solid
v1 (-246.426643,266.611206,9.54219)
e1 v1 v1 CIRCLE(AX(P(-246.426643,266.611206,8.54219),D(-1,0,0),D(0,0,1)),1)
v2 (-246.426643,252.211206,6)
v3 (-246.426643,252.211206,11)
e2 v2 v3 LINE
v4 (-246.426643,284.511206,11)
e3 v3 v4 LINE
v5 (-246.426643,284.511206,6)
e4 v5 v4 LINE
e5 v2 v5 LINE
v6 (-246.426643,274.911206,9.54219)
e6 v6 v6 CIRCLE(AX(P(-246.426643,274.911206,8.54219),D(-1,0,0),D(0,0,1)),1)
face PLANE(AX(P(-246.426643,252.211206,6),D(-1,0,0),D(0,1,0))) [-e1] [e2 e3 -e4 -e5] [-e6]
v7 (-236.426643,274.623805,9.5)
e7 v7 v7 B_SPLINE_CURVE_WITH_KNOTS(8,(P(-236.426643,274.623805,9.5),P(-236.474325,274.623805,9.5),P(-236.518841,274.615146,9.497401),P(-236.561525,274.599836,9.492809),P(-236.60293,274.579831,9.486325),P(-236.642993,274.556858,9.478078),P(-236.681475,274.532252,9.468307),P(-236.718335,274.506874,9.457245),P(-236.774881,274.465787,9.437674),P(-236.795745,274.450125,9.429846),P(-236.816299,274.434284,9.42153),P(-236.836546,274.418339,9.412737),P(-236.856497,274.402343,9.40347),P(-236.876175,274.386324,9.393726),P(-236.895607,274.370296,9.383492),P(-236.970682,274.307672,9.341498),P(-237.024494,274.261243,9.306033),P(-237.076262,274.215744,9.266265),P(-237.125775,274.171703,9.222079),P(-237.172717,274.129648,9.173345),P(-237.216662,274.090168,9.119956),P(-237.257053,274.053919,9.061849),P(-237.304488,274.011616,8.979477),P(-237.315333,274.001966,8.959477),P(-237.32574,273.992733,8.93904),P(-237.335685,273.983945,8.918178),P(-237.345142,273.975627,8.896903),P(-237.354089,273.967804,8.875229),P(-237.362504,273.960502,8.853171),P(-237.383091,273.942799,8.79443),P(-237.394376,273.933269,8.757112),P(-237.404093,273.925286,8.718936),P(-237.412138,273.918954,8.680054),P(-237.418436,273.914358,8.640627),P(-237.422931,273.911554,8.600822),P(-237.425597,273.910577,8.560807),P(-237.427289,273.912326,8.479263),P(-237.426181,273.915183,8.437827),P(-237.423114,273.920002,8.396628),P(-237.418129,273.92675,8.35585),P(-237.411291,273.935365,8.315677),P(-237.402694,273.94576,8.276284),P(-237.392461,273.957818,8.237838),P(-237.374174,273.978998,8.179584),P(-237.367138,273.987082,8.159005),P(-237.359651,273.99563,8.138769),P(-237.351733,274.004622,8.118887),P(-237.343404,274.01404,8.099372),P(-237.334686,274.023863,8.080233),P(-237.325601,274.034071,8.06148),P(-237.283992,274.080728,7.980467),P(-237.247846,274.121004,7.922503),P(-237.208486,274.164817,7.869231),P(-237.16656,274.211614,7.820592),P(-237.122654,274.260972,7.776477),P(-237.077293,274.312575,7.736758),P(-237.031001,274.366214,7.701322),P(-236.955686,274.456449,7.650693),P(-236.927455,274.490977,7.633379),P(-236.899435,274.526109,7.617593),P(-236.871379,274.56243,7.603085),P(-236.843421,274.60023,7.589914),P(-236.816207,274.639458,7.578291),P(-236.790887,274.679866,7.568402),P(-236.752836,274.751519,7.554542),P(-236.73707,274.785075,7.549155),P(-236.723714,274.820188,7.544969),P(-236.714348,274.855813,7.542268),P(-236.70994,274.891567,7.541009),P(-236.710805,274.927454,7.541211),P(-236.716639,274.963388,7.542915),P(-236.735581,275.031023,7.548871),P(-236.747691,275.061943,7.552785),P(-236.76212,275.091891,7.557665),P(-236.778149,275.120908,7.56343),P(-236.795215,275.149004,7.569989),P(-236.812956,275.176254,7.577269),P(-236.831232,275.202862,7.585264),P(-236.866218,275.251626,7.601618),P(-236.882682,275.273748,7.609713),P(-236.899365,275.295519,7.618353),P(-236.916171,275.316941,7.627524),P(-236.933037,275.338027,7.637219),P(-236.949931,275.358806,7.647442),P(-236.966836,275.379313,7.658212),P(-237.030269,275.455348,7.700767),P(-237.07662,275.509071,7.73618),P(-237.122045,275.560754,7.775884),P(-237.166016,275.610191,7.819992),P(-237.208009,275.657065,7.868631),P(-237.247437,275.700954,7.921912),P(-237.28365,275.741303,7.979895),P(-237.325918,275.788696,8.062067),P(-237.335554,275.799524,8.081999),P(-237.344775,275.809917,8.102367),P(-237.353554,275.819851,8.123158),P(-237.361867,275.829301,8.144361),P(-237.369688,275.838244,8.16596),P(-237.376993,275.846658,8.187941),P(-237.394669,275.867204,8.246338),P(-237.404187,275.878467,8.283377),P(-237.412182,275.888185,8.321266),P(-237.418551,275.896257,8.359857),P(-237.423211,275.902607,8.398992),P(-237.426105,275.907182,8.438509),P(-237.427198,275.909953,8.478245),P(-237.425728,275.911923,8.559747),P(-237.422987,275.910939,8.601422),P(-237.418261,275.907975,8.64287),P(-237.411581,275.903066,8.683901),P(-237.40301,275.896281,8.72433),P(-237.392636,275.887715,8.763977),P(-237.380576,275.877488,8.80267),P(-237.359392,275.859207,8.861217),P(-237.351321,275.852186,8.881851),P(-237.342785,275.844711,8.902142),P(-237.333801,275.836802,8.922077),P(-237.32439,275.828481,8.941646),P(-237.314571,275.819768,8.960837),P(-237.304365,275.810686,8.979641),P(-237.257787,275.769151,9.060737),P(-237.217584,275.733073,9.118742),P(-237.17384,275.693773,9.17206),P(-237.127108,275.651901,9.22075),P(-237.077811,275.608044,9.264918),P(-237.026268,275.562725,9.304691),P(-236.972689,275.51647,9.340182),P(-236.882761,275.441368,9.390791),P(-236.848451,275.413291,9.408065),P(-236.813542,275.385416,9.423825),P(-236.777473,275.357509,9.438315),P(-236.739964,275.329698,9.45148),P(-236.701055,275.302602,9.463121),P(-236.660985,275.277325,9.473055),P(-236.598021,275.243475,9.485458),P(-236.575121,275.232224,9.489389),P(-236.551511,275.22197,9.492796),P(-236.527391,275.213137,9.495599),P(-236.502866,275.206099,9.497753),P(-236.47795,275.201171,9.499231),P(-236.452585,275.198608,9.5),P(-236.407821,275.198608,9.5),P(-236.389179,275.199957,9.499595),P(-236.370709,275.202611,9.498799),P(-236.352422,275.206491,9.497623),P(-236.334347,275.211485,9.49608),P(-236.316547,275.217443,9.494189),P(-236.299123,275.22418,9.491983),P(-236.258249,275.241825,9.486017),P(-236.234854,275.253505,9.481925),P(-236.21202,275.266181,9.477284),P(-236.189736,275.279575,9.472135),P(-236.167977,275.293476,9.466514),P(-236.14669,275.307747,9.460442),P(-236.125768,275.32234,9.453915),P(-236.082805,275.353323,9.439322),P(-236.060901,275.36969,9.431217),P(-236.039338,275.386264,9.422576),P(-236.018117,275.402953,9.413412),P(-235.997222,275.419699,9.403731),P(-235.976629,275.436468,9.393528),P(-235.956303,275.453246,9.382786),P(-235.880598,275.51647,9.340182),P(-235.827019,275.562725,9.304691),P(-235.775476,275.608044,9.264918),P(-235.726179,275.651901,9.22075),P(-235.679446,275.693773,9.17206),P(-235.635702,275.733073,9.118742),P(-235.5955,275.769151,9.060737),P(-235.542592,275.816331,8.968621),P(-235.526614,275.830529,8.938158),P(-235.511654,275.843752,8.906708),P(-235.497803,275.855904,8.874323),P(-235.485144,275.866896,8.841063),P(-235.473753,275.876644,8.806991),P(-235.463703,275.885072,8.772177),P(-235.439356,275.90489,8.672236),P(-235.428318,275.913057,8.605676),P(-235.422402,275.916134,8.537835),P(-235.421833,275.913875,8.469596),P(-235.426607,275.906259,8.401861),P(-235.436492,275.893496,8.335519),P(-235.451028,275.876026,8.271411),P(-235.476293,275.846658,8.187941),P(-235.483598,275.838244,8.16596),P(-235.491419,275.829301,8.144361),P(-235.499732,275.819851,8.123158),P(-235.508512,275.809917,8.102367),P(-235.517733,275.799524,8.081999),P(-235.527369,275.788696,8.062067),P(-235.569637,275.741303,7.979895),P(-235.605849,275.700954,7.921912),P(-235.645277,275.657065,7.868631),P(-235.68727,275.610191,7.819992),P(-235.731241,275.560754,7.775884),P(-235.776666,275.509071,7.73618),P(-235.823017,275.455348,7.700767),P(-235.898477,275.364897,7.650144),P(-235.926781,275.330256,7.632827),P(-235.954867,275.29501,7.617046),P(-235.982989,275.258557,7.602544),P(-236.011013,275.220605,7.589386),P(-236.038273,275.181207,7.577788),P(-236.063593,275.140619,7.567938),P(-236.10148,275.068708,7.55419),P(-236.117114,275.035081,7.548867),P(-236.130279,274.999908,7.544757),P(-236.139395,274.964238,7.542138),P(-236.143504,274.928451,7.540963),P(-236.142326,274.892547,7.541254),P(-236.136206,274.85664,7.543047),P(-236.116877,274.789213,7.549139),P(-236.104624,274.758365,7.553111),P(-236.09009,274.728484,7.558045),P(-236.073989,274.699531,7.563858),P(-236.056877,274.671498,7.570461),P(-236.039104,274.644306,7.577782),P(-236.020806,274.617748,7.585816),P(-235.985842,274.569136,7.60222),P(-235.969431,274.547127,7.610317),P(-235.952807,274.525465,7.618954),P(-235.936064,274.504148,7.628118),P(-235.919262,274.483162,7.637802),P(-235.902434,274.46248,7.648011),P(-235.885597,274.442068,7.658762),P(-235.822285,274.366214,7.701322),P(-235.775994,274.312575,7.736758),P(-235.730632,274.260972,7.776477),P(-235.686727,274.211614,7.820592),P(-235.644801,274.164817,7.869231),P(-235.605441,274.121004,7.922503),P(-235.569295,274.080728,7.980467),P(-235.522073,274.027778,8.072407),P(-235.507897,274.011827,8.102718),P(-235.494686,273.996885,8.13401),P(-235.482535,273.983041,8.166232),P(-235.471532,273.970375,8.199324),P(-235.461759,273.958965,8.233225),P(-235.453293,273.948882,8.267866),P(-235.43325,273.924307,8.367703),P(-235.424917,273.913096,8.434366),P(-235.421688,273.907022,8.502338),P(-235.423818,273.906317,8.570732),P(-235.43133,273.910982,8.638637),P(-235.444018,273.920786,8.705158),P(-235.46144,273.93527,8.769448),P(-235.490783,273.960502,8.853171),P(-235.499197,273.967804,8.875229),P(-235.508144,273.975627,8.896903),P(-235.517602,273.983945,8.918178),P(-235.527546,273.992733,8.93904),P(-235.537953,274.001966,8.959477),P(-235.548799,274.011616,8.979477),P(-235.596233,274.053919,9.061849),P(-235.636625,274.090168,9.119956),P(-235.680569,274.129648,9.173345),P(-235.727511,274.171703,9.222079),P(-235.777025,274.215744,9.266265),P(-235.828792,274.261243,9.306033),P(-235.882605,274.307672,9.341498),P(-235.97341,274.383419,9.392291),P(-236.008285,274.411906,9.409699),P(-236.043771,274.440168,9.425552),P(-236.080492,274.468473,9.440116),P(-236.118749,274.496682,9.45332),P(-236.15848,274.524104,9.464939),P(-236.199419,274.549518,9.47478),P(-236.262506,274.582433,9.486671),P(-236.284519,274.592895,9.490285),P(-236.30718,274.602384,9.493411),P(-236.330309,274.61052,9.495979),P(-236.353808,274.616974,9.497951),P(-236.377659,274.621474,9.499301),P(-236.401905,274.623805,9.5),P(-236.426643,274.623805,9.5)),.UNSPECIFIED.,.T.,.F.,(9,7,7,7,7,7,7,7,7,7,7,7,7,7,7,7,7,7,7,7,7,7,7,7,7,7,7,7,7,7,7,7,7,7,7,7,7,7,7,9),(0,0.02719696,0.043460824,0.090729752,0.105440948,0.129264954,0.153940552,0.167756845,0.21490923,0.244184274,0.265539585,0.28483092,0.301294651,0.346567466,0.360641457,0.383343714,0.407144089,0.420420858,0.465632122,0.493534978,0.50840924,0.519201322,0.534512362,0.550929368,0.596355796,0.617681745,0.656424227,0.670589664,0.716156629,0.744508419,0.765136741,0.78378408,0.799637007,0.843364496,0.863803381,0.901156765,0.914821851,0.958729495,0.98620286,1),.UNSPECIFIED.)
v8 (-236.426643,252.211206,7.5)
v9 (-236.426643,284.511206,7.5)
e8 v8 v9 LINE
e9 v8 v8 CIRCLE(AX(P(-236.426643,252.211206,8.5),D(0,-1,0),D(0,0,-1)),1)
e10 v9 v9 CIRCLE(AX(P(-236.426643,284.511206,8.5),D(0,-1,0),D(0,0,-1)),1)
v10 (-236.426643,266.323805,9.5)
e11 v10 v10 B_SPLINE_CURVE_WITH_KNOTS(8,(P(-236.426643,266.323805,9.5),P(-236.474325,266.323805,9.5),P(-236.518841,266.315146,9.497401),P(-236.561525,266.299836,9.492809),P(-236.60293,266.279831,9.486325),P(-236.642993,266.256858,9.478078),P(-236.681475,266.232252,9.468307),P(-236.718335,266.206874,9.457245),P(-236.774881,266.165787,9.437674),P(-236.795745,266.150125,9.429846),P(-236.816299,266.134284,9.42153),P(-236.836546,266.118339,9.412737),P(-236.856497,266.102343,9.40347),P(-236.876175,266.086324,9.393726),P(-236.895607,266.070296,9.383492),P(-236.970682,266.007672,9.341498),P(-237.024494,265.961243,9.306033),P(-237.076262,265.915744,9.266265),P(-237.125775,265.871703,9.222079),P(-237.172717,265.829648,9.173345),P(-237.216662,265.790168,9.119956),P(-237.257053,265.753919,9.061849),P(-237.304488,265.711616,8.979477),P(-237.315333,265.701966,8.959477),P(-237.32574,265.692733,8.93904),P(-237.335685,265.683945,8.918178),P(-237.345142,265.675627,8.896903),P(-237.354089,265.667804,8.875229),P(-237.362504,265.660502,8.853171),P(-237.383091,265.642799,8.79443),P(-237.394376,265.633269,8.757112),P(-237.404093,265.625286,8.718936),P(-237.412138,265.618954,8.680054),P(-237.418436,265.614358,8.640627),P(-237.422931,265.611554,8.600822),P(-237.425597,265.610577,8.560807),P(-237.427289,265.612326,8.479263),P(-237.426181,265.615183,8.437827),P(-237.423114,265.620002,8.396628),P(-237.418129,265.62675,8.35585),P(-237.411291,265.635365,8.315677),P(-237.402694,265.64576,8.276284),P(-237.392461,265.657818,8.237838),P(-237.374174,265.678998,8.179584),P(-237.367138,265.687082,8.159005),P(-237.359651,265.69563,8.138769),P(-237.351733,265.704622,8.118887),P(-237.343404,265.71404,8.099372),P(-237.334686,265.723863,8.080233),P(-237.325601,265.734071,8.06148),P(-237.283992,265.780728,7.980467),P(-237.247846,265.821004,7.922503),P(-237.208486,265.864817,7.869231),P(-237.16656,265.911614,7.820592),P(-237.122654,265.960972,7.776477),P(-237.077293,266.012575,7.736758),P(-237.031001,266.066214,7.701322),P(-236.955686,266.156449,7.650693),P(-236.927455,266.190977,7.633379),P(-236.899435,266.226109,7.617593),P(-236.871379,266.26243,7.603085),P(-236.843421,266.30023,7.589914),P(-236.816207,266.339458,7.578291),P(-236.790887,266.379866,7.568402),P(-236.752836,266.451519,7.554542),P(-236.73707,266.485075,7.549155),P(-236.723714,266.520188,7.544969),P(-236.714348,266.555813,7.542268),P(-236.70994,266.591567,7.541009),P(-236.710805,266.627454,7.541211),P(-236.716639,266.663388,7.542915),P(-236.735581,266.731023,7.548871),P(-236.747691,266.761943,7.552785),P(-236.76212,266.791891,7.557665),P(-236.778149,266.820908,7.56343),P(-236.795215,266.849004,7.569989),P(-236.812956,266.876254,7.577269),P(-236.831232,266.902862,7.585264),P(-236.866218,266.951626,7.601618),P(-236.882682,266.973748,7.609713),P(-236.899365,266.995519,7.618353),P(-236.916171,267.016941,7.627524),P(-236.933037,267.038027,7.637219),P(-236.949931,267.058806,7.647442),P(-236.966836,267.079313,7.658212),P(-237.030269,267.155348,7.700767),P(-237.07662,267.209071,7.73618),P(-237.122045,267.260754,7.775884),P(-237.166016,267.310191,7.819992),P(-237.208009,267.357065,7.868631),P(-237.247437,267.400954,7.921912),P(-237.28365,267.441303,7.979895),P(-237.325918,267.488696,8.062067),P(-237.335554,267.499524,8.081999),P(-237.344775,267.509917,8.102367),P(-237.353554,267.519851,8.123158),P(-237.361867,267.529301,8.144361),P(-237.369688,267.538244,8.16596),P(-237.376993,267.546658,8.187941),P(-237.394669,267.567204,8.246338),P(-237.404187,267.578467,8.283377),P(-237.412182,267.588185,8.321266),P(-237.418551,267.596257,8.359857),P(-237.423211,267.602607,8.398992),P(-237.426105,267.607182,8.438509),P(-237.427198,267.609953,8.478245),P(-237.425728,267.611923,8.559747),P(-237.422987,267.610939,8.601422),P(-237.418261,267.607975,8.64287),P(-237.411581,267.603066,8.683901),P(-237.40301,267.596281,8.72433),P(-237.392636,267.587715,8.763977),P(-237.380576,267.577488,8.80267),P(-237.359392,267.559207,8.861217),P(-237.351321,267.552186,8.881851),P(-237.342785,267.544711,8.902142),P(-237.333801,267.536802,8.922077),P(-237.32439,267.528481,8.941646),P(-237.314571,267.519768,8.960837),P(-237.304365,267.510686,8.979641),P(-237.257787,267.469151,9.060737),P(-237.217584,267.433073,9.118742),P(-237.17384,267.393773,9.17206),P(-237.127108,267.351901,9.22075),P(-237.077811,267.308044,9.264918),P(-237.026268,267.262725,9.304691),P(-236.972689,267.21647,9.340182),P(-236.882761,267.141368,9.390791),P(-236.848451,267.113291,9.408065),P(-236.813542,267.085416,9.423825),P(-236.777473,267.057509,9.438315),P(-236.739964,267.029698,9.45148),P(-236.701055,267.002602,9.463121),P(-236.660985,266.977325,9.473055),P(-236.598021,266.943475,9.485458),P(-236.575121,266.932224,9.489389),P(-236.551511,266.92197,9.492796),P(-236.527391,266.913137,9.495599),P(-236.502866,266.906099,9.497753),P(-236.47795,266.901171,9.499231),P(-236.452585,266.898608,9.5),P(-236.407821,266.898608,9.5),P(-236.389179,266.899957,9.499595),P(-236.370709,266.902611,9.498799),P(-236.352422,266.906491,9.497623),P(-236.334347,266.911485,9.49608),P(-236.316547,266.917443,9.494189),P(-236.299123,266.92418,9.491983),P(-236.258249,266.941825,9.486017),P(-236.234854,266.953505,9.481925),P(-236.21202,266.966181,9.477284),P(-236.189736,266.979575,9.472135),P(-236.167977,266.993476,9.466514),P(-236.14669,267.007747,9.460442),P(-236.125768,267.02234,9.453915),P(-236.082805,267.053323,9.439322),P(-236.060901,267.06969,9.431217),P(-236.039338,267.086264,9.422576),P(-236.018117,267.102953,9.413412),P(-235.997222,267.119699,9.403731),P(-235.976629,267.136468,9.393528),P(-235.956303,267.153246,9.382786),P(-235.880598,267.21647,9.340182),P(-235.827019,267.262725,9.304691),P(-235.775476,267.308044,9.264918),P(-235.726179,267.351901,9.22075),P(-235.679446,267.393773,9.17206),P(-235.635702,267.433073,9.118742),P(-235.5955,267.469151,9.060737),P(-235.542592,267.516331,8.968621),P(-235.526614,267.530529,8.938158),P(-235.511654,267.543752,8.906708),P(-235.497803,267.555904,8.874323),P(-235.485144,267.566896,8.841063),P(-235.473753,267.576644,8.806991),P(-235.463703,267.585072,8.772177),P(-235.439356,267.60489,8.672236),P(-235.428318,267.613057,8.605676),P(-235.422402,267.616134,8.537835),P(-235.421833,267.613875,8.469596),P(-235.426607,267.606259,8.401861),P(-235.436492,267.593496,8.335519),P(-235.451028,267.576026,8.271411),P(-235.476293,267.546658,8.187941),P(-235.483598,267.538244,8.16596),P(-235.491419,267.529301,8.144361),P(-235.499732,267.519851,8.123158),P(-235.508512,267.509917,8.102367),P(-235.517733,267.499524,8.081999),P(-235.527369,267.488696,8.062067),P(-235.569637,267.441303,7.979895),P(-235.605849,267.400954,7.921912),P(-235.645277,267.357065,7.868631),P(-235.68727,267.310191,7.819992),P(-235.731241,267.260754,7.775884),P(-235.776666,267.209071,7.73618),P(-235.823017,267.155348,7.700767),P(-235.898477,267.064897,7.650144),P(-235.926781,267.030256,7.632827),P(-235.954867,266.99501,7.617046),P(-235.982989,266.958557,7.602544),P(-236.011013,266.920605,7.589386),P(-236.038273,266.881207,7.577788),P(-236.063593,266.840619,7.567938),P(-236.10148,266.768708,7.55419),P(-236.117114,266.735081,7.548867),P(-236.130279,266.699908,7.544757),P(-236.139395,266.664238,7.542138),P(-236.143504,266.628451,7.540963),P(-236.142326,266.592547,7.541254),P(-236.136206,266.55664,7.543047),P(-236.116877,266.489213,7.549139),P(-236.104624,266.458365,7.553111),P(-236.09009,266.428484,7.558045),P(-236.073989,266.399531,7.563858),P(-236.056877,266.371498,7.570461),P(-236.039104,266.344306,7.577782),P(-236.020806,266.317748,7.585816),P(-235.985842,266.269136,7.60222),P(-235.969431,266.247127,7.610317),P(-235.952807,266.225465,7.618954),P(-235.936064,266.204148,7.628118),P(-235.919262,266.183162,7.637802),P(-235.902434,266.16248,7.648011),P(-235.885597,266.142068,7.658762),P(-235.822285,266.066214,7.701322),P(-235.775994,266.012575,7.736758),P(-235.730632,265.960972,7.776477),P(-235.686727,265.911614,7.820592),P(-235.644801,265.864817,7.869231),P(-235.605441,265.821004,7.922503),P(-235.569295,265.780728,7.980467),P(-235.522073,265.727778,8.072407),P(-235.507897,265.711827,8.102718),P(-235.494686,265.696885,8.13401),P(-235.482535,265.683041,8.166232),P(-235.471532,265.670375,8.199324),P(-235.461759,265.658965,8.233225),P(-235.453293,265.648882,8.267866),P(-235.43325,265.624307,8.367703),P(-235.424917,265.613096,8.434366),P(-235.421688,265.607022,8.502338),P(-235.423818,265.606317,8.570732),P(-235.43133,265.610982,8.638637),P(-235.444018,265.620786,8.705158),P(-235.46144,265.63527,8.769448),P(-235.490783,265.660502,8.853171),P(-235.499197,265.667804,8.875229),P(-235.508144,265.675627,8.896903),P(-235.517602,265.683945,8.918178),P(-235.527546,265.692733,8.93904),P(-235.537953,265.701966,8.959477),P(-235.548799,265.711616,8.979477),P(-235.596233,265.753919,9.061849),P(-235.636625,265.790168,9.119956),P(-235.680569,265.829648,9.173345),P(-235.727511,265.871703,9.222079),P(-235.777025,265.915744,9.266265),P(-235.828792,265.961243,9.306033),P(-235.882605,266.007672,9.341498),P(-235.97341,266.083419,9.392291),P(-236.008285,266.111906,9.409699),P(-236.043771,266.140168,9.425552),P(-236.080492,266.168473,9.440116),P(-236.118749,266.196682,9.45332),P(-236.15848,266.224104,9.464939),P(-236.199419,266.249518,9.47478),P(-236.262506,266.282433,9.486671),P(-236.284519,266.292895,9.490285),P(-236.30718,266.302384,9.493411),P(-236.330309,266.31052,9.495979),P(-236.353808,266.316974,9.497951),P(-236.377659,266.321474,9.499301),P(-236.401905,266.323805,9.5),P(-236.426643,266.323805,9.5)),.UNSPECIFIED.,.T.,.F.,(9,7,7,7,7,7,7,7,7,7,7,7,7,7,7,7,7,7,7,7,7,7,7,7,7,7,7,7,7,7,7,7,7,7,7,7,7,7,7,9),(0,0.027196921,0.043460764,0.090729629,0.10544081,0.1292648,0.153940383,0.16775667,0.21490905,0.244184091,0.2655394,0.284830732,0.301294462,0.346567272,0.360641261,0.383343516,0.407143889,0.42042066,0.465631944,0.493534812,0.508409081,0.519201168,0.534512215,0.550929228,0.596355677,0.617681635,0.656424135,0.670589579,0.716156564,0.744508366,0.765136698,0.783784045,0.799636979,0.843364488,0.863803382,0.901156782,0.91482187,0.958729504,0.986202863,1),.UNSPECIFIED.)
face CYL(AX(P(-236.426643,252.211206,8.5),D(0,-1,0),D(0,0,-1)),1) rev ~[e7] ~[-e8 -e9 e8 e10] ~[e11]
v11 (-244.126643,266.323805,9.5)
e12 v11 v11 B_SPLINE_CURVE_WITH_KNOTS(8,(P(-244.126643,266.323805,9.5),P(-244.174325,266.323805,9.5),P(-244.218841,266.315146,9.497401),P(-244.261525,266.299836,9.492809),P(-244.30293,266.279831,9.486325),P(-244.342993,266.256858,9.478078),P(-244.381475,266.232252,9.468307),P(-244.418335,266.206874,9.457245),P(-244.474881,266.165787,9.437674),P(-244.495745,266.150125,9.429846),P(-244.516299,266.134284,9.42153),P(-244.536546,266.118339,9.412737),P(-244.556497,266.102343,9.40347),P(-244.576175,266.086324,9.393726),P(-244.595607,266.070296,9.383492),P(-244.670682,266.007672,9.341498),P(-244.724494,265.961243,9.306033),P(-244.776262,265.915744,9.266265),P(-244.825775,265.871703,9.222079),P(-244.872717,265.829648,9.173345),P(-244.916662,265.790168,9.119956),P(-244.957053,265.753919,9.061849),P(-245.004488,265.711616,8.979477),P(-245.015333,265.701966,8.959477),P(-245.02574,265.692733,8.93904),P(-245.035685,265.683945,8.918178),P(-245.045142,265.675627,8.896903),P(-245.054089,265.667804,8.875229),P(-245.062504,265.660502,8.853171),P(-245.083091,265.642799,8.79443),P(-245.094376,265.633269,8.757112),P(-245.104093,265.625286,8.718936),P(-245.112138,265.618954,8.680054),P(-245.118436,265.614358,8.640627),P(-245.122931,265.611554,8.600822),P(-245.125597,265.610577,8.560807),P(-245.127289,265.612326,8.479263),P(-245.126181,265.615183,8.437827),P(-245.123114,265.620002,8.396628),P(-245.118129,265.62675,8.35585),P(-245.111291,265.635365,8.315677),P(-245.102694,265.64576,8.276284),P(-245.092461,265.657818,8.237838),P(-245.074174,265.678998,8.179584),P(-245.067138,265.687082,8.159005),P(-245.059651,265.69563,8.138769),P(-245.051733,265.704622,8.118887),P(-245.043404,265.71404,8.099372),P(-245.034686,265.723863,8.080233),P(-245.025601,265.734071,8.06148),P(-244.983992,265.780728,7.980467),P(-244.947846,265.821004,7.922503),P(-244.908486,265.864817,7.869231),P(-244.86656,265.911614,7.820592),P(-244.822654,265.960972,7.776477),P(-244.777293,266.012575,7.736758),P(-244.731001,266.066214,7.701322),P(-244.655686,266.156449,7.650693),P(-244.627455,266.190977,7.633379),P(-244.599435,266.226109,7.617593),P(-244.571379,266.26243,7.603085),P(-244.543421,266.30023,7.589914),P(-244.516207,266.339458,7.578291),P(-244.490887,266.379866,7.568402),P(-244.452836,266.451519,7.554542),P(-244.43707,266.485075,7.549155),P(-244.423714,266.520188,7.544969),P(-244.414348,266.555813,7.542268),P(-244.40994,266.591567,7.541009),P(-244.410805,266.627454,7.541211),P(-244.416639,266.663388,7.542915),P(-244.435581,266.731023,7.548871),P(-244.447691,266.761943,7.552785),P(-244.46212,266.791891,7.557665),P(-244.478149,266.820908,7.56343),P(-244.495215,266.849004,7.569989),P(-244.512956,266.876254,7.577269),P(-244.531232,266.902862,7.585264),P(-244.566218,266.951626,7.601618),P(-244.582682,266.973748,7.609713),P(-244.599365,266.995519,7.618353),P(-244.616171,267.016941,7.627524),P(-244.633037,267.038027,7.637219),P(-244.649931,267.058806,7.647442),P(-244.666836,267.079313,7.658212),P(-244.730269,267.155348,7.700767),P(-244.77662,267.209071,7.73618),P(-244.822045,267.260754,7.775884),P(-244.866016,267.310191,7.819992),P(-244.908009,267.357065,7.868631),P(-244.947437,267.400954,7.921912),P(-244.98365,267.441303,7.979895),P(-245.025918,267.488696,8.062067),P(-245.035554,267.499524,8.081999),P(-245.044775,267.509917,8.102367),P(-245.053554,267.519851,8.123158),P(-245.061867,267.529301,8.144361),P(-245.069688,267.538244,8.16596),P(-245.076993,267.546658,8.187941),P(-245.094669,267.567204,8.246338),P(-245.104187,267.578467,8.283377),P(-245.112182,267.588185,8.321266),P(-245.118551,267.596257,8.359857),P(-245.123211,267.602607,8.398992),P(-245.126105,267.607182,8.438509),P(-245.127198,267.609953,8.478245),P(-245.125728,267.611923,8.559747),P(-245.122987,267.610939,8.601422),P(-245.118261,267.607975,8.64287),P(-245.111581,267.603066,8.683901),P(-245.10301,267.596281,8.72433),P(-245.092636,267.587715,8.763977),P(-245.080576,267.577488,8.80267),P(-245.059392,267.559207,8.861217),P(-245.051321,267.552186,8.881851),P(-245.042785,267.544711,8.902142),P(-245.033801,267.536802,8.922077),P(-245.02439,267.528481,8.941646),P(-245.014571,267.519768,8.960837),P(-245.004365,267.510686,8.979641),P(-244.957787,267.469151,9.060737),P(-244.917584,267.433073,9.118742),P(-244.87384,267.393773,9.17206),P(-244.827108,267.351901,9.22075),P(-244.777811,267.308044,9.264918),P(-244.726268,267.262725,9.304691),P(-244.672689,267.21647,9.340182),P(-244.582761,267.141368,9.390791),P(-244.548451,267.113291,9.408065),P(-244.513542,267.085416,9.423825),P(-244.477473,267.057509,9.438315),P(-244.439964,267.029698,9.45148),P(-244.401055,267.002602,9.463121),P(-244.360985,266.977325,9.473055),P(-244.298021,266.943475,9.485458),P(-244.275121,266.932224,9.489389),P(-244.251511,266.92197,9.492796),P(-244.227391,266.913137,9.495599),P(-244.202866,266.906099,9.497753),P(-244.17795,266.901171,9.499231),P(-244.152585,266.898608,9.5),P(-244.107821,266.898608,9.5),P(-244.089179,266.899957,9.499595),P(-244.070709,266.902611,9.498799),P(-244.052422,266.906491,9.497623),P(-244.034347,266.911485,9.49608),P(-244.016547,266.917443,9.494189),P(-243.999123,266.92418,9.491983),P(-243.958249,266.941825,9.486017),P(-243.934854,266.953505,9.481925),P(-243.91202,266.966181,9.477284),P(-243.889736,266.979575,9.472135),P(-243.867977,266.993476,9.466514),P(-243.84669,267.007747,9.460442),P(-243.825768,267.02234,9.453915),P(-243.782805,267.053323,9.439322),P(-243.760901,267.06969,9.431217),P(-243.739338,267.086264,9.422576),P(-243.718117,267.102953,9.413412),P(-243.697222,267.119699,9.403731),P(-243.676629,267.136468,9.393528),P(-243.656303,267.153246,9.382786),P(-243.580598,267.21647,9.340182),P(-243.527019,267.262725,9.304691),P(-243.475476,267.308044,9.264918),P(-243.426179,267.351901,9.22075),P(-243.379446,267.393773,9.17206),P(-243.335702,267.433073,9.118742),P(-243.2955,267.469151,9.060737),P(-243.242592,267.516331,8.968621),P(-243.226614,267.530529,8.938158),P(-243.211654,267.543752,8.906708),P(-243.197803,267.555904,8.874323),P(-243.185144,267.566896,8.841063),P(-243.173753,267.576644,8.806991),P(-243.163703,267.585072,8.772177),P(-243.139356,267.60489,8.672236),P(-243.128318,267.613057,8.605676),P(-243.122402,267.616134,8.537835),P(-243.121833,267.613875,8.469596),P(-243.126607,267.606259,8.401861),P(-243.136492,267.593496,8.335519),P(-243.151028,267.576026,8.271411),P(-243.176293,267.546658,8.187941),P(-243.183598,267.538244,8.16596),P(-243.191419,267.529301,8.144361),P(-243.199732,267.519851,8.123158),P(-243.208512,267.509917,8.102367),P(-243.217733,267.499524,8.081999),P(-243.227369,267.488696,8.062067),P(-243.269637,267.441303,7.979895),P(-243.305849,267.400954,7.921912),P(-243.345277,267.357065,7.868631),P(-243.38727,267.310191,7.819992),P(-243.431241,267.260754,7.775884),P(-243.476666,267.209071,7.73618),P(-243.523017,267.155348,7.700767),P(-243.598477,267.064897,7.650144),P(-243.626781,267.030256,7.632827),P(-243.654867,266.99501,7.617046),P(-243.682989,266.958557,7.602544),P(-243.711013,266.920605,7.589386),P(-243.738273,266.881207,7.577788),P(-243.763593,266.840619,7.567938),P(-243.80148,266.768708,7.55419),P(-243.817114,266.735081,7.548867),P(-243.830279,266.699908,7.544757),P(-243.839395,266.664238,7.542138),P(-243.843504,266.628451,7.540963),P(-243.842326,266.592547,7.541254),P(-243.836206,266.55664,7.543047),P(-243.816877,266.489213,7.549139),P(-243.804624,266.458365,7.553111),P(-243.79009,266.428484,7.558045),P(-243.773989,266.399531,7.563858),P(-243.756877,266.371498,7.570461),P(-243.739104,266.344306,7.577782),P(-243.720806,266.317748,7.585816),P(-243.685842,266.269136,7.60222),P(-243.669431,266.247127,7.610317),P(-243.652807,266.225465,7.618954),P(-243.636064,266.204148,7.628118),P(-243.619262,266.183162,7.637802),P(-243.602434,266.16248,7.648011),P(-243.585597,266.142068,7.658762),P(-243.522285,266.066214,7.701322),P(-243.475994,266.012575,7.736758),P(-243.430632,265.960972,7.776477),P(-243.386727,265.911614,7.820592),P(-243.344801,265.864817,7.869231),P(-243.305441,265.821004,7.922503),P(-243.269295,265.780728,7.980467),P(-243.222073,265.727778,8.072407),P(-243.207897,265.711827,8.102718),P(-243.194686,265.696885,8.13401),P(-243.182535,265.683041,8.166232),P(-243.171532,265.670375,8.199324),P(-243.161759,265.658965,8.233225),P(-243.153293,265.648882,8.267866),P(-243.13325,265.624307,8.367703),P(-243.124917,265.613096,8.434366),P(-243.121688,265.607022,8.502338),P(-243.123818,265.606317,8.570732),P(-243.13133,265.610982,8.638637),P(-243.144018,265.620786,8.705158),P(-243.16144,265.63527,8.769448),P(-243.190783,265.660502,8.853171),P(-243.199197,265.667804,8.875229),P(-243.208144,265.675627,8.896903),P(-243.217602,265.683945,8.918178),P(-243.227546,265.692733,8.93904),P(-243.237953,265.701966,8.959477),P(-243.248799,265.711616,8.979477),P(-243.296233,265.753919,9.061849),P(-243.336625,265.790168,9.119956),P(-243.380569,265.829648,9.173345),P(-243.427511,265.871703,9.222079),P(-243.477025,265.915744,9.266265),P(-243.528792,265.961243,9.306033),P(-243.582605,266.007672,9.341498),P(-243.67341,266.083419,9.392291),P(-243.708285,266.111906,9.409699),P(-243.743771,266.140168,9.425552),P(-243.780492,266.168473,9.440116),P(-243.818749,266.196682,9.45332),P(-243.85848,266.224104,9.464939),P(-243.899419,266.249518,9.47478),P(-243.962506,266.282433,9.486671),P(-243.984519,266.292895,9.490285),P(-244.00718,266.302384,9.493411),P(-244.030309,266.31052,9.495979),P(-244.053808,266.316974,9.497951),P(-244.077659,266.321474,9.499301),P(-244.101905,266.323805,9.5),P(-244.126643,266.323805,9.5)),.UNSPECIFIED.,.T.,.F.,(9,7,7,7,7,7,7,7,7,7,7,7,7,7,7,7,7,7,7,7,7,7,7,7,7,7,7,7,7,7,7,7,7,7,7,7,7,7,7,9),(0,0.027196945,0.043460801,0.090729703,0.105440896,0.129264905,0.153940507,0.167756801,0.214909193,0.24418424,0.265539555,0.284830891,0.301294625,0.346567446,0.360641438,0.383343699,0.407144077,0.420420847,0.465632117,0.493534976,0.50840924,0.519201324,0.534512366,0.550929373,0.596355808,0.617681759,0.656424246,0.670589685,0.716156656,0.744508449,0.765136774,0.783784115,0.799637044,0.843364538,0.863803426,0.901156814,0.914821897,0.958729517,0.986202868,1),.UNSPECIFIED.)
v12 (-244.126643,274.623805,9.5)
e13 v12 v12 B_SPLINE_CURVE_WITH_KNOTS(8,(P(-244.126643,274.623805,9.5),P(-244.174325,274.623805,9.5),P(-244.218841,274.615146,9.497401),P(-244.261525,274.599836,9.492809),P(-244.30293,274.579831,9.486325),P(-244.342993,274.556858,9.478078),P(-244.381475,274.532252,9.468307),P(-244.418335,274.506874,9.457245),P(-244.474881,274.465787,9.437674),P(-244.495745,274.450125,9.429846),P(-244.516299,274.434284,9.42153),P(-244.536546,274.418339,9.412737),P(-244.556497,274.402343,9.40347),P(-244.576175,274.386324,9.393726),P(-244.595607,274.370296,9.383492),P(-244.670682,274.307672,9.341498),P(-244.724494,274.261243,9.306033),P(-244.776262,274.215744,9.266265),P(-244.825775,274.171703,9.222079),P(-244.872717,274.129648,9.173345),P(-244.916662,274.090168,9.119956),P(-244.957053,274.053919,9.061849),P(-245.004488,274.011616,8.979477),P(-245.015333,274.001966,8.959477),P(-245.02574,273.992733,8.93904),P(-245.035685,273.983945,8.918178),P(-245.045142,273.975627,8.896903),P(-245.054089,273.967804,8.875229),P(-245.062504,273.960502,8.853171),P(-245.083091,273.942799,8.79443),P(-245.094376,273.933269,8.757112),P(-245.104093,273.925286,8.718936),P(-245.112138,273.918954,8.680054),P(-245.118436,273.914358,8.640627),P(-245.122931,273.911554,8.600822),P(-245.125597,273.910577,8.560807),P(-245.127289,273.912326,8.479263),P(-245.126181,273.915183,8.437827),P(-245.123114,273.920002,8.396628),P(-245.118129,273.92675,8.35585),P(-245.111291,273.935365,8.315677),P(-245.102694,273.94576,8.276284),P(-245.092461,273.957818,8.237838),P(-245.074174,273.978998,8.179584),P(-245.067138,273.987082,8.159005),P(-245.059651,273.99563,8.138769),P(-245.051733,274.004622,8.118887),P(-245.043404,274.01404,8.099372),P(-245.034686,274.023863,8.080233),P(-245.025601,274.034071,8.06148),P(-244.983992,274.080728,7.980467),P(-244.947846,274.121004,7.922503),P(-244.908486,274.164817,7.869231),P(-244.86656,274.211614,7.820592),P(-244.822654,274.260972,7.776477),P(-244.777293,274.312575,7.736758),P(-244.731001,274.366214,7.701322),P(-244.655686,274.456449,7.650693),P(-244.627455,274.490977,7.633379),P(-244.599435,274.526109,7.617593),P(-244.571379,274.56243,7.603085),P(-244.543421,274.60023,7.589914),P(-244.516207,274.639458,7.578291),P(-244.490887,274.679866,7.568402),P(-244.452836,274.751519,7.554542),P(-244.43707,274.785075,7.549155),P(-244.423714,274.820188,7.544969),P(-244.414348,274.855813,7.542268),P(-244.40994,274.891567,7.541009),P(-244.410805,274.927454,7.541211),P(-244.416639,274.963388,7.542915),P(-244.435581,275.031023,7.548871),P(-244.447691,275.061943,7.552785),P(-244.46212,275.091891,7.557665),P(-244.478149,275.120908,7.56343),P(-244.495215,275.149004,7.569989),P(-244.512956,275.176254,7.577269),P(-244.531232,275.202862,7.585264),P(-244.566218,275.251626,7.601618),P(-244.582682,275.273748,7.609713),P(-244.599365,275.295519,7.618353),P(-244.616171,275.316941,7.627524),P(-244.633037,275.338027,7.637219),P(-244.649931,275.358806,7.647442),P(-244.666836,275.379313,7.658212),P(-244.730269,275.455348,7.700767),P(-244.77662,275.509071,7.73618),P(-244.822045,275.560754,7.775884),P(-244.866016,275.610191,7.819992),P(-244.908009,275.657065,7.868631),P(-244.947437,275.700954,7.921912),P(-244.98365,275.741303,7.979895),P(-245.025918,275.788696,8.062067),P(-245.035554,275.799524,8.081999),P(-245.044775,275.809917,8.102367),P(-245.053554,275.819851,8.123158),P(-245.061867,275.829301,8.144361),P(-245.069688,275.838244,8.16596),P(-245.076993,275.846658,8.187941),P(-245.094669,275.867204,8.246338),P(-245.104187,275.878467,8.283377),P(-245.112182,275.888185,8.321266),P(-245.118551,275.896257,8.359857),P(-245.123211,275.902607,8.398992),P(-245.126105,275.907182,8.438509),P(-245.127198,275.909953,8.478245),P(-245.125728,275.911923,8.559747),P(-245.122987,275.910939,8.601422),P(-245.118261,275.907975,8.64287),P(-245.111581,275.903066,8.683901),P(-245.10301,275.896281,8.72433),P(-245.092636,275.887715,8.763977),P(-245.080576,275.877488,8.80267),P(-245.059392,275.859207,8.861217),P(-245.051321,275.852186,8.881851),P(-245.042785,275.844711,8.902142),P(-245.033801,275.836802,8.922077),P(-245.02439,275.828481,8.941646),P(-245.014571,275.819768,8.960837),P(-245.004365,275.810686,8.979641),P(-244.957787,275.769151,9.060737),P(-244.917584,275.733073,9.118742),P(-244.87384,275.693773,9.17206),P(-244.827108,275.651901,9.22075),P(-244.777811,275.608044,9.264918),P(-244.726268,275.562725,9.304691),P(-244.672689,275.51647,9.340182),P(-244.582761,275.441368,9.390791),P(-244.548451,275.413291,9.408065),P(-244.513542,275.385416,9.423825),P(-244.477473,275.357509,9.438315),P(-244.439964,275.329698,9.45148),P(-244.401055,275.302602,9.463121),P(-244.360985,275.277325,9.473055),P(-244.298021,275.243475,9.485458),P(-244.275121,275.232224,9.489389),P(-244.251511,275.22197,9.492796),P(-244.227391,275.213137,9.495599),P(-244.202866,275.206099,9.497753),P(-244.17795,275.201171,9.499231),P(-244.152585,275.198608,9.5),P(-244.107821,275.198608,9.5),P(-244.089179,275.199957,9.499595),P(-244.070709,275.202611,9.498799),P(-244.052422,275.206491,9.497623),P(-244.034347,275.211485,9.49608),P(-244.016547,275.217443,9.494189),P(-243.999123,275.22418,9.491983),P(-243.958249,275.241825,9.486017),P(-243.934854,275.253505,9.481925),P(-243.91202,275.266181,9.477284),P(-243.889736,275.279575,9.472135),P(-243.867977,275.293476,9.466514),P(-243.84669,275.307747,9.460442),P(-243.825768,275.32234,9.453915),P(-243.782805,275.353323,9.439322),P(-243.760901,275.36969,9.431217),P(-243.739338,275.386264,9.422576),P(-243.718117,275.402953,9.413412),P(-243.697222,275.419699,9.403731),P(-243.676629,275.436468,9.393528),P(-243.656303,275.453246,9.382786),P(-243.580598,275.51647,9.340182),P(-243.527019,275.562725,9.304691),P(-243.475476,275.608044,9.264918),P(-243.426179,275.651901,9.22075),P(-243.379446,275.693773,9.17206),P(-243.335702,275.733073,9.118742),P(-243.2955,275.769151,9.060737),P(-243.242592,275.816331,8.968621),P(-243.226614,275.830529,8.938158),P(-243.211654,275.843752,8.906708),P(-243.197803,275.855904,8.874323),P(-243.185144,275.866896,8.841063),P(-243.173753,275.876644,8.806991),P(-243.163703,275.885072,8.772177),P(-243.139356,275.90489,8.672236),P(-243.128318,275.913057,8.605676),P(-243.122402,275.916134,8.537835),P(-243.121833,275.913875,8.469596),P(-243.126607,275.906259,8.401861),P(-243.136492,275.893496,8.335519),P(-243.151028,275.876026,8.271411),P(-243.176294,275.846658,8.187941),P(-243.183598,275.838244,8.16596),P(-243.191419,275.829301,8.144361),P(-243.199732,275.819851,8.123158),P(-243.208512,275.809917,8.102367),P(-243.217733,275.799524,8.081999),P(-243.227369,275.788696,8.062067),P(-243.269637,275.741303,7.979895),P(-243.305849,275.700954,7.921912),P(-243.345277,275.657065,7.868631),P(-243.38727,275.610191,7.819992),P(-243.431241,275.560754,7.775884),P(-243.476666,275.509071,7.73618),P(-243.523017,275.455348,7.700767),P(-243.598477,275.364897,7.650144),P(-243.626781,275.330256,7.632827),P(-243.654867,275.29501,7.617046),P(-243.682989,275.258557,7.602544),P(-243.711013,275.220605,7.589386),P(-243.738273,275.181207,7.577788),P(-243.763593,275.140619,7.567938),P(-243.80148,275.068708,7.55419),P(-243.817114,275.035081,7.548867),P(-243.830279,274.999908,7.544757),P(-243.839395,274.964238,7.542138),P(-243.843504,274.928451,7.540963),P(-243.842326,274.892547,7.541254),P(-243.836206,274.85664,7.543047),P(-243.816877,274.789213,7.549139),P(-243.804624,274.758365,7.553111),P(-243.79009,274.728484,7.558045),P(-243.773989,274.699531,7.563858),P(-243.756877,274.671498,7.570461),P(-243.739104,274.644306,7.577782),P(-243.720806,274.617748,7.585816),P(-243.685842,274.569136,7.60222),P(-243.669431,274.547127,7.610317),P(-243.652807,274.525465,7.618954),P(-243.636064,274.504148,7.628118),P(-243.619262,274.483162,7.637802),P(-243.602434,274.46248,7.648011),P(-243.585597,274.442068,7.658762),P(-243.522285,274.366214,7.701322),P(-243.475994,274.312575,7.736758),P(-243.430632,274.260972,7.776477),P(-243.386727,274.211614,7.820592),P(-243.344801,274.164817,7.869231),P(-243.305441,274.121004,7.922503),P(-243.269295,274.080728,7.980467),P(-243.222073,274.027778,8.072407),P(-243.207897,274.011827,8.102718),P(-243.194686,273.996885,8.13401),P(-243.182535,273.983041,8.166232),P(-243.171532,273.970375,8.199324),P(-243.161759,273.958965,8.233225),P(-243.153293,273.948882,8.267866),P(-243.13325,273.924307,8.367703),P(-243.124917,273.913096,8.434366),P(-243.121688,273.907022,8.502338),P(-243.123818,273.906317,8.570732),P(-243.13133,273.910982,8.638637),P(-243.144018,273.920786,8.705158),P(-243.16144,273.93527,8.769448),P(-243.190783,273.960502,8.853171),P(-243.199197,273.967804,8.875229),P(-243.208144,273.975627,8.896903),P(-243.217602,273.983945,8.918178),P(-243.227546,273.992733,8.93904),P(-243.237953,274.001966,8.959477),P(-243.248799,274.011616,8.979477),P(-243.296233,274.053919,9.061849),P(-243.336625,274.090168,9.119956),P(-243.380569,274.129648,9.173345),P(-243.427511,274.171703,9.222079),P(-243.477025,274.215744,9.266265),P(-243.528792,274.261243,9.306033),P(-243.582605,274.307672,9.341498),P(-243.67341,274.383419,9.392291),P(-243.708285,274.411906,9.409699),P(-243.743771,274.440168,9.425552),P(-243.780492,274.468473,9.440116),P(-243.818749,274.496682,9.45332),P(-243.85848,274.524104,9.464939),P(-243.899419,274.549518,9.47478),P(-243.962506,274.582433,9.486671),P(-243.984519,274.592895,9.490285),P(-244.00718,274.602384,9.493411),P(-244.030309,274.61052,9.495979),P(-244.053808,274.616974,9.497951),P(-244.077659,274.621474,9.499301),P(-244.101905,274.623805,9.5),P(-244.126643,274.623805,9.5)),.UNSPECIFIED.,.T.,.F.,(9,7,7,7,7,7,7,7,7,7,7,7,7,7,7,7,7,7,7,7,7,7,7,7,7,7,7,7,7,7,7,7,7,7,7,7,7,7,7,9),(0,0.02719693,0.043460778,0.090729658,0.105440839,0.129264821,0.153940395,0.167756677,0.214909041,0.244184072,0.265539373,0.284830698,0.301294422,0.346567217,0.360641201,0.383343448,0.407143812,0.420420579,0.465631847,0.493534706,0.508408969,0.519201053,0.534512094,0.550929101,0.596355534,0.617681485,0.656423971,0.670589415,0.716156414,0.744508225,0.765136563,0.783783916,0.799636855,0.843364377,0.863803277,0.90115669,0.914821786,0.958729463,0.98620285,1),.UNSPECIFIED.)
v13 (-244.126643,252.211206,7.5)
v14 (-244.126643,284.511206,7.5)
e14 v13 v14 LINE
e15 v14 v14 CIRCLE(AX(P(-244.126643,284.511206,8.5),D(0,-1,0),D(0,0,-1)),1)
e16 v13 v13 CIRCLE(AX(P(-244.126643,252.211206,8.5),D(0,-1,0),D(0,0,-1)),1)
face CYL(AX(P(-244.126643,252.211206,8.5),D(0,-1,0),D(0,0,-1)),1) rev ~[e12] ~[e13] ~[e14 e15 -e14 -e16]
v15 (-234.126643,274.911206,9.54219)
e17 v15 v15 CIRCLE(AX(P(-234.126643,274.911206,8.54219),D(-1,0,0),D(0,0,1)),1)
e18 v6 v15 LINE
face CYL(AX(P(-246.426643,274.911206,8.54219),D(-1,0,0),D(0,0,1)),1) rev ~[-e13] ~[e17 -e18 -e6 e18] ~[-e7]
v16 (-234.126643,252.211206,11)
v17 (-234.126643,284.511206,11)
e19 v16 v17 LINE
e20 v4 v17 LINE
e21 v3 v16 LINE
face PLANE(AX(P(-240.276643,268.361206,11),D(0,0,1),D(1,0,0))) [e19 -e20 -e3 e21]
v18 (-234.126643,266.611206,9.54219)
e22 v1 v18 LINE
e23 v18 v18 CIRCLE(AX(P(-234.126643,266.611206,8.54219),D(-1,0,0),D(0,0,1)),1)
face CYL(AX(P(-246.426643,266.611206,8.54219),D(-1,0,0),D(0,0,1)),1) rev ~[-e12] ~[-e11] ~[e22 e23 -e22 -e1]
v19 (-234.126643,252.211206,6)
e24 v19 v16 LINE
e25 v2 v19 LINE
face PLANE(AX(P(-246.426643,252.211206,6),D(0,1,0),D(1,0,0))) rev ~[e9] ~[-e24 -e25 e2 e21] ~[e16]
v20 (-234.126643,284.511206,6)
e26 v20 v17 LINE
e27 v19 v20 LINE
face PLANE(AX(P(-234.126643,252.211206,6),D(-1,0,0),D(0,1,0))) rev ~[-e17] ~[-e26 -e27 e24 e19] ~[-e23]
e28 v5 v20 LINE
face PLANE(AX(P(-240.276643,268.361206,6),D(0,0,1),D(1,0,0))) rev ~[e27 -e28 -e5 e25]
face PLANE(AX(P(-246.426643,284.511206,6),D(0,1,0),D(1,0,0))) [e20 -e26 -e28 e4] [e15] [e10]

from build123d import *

# Parameters (mm, degrees)
SKETCH1_W           = 12.3
SKETCH1_H           = 32.3
BOSS_EXTRUDE1_DEPTH = 5
SKETCH3_R           = 1
CUT_EXTRUDE1_DEPTH  = 285.989327178
SKETCH4_R           = 1
CUT_EXTRUDE2_DEPTH  = 249.777773307


with BuildPart() as part:
    # Sketch1 → Boss-Extrude1 (new body)
    with BuildSketch(Plane.XY.offset(6)):
        with Locations((-240.276643226, 268.361206467)):
            Rectangle(SKETCH1_W, SKETCH1_H)
    extrude(amount=BOSS_EXTRUDE1_DEPTH)

    # Sketch3 → Cut-Extrude1 (cut, through all)
    with BuildSketch(Plane.ZY.offset(246.426643226)):
        with Locations((8.542189851, 274.911206467)):
            Circle(SKETCH3_R)
        with Locations((8.542189851, 266.611206467)):
            Circle(SKETCH3_R)
    extrude(amount=-CUT_EXTRUDE1_DEPTH, mode=Mode.SUBTRACT)

    # Sketch4 → Cut-Extrude2 (cut, through all)
    with BuildSketch(Plane(origin=(0, 252.211206467, 0), x_dir=(-1, 0, 0), z_dir=(0, -1, 0))):
        with Locations(Location((244.126643226, -8.5, 0), (0, 0, 90))):
            Circle(SKETCH4_R)
        with Locations(Location((236.426643226, -8.5, 0), (0, 0, 90))):
            Circle(SKETCH4_R)
    extrude(amount=-CUT_EXTRUDE2_DEPTH, mode=Mode.SUBTRACT)


solid = part.part
